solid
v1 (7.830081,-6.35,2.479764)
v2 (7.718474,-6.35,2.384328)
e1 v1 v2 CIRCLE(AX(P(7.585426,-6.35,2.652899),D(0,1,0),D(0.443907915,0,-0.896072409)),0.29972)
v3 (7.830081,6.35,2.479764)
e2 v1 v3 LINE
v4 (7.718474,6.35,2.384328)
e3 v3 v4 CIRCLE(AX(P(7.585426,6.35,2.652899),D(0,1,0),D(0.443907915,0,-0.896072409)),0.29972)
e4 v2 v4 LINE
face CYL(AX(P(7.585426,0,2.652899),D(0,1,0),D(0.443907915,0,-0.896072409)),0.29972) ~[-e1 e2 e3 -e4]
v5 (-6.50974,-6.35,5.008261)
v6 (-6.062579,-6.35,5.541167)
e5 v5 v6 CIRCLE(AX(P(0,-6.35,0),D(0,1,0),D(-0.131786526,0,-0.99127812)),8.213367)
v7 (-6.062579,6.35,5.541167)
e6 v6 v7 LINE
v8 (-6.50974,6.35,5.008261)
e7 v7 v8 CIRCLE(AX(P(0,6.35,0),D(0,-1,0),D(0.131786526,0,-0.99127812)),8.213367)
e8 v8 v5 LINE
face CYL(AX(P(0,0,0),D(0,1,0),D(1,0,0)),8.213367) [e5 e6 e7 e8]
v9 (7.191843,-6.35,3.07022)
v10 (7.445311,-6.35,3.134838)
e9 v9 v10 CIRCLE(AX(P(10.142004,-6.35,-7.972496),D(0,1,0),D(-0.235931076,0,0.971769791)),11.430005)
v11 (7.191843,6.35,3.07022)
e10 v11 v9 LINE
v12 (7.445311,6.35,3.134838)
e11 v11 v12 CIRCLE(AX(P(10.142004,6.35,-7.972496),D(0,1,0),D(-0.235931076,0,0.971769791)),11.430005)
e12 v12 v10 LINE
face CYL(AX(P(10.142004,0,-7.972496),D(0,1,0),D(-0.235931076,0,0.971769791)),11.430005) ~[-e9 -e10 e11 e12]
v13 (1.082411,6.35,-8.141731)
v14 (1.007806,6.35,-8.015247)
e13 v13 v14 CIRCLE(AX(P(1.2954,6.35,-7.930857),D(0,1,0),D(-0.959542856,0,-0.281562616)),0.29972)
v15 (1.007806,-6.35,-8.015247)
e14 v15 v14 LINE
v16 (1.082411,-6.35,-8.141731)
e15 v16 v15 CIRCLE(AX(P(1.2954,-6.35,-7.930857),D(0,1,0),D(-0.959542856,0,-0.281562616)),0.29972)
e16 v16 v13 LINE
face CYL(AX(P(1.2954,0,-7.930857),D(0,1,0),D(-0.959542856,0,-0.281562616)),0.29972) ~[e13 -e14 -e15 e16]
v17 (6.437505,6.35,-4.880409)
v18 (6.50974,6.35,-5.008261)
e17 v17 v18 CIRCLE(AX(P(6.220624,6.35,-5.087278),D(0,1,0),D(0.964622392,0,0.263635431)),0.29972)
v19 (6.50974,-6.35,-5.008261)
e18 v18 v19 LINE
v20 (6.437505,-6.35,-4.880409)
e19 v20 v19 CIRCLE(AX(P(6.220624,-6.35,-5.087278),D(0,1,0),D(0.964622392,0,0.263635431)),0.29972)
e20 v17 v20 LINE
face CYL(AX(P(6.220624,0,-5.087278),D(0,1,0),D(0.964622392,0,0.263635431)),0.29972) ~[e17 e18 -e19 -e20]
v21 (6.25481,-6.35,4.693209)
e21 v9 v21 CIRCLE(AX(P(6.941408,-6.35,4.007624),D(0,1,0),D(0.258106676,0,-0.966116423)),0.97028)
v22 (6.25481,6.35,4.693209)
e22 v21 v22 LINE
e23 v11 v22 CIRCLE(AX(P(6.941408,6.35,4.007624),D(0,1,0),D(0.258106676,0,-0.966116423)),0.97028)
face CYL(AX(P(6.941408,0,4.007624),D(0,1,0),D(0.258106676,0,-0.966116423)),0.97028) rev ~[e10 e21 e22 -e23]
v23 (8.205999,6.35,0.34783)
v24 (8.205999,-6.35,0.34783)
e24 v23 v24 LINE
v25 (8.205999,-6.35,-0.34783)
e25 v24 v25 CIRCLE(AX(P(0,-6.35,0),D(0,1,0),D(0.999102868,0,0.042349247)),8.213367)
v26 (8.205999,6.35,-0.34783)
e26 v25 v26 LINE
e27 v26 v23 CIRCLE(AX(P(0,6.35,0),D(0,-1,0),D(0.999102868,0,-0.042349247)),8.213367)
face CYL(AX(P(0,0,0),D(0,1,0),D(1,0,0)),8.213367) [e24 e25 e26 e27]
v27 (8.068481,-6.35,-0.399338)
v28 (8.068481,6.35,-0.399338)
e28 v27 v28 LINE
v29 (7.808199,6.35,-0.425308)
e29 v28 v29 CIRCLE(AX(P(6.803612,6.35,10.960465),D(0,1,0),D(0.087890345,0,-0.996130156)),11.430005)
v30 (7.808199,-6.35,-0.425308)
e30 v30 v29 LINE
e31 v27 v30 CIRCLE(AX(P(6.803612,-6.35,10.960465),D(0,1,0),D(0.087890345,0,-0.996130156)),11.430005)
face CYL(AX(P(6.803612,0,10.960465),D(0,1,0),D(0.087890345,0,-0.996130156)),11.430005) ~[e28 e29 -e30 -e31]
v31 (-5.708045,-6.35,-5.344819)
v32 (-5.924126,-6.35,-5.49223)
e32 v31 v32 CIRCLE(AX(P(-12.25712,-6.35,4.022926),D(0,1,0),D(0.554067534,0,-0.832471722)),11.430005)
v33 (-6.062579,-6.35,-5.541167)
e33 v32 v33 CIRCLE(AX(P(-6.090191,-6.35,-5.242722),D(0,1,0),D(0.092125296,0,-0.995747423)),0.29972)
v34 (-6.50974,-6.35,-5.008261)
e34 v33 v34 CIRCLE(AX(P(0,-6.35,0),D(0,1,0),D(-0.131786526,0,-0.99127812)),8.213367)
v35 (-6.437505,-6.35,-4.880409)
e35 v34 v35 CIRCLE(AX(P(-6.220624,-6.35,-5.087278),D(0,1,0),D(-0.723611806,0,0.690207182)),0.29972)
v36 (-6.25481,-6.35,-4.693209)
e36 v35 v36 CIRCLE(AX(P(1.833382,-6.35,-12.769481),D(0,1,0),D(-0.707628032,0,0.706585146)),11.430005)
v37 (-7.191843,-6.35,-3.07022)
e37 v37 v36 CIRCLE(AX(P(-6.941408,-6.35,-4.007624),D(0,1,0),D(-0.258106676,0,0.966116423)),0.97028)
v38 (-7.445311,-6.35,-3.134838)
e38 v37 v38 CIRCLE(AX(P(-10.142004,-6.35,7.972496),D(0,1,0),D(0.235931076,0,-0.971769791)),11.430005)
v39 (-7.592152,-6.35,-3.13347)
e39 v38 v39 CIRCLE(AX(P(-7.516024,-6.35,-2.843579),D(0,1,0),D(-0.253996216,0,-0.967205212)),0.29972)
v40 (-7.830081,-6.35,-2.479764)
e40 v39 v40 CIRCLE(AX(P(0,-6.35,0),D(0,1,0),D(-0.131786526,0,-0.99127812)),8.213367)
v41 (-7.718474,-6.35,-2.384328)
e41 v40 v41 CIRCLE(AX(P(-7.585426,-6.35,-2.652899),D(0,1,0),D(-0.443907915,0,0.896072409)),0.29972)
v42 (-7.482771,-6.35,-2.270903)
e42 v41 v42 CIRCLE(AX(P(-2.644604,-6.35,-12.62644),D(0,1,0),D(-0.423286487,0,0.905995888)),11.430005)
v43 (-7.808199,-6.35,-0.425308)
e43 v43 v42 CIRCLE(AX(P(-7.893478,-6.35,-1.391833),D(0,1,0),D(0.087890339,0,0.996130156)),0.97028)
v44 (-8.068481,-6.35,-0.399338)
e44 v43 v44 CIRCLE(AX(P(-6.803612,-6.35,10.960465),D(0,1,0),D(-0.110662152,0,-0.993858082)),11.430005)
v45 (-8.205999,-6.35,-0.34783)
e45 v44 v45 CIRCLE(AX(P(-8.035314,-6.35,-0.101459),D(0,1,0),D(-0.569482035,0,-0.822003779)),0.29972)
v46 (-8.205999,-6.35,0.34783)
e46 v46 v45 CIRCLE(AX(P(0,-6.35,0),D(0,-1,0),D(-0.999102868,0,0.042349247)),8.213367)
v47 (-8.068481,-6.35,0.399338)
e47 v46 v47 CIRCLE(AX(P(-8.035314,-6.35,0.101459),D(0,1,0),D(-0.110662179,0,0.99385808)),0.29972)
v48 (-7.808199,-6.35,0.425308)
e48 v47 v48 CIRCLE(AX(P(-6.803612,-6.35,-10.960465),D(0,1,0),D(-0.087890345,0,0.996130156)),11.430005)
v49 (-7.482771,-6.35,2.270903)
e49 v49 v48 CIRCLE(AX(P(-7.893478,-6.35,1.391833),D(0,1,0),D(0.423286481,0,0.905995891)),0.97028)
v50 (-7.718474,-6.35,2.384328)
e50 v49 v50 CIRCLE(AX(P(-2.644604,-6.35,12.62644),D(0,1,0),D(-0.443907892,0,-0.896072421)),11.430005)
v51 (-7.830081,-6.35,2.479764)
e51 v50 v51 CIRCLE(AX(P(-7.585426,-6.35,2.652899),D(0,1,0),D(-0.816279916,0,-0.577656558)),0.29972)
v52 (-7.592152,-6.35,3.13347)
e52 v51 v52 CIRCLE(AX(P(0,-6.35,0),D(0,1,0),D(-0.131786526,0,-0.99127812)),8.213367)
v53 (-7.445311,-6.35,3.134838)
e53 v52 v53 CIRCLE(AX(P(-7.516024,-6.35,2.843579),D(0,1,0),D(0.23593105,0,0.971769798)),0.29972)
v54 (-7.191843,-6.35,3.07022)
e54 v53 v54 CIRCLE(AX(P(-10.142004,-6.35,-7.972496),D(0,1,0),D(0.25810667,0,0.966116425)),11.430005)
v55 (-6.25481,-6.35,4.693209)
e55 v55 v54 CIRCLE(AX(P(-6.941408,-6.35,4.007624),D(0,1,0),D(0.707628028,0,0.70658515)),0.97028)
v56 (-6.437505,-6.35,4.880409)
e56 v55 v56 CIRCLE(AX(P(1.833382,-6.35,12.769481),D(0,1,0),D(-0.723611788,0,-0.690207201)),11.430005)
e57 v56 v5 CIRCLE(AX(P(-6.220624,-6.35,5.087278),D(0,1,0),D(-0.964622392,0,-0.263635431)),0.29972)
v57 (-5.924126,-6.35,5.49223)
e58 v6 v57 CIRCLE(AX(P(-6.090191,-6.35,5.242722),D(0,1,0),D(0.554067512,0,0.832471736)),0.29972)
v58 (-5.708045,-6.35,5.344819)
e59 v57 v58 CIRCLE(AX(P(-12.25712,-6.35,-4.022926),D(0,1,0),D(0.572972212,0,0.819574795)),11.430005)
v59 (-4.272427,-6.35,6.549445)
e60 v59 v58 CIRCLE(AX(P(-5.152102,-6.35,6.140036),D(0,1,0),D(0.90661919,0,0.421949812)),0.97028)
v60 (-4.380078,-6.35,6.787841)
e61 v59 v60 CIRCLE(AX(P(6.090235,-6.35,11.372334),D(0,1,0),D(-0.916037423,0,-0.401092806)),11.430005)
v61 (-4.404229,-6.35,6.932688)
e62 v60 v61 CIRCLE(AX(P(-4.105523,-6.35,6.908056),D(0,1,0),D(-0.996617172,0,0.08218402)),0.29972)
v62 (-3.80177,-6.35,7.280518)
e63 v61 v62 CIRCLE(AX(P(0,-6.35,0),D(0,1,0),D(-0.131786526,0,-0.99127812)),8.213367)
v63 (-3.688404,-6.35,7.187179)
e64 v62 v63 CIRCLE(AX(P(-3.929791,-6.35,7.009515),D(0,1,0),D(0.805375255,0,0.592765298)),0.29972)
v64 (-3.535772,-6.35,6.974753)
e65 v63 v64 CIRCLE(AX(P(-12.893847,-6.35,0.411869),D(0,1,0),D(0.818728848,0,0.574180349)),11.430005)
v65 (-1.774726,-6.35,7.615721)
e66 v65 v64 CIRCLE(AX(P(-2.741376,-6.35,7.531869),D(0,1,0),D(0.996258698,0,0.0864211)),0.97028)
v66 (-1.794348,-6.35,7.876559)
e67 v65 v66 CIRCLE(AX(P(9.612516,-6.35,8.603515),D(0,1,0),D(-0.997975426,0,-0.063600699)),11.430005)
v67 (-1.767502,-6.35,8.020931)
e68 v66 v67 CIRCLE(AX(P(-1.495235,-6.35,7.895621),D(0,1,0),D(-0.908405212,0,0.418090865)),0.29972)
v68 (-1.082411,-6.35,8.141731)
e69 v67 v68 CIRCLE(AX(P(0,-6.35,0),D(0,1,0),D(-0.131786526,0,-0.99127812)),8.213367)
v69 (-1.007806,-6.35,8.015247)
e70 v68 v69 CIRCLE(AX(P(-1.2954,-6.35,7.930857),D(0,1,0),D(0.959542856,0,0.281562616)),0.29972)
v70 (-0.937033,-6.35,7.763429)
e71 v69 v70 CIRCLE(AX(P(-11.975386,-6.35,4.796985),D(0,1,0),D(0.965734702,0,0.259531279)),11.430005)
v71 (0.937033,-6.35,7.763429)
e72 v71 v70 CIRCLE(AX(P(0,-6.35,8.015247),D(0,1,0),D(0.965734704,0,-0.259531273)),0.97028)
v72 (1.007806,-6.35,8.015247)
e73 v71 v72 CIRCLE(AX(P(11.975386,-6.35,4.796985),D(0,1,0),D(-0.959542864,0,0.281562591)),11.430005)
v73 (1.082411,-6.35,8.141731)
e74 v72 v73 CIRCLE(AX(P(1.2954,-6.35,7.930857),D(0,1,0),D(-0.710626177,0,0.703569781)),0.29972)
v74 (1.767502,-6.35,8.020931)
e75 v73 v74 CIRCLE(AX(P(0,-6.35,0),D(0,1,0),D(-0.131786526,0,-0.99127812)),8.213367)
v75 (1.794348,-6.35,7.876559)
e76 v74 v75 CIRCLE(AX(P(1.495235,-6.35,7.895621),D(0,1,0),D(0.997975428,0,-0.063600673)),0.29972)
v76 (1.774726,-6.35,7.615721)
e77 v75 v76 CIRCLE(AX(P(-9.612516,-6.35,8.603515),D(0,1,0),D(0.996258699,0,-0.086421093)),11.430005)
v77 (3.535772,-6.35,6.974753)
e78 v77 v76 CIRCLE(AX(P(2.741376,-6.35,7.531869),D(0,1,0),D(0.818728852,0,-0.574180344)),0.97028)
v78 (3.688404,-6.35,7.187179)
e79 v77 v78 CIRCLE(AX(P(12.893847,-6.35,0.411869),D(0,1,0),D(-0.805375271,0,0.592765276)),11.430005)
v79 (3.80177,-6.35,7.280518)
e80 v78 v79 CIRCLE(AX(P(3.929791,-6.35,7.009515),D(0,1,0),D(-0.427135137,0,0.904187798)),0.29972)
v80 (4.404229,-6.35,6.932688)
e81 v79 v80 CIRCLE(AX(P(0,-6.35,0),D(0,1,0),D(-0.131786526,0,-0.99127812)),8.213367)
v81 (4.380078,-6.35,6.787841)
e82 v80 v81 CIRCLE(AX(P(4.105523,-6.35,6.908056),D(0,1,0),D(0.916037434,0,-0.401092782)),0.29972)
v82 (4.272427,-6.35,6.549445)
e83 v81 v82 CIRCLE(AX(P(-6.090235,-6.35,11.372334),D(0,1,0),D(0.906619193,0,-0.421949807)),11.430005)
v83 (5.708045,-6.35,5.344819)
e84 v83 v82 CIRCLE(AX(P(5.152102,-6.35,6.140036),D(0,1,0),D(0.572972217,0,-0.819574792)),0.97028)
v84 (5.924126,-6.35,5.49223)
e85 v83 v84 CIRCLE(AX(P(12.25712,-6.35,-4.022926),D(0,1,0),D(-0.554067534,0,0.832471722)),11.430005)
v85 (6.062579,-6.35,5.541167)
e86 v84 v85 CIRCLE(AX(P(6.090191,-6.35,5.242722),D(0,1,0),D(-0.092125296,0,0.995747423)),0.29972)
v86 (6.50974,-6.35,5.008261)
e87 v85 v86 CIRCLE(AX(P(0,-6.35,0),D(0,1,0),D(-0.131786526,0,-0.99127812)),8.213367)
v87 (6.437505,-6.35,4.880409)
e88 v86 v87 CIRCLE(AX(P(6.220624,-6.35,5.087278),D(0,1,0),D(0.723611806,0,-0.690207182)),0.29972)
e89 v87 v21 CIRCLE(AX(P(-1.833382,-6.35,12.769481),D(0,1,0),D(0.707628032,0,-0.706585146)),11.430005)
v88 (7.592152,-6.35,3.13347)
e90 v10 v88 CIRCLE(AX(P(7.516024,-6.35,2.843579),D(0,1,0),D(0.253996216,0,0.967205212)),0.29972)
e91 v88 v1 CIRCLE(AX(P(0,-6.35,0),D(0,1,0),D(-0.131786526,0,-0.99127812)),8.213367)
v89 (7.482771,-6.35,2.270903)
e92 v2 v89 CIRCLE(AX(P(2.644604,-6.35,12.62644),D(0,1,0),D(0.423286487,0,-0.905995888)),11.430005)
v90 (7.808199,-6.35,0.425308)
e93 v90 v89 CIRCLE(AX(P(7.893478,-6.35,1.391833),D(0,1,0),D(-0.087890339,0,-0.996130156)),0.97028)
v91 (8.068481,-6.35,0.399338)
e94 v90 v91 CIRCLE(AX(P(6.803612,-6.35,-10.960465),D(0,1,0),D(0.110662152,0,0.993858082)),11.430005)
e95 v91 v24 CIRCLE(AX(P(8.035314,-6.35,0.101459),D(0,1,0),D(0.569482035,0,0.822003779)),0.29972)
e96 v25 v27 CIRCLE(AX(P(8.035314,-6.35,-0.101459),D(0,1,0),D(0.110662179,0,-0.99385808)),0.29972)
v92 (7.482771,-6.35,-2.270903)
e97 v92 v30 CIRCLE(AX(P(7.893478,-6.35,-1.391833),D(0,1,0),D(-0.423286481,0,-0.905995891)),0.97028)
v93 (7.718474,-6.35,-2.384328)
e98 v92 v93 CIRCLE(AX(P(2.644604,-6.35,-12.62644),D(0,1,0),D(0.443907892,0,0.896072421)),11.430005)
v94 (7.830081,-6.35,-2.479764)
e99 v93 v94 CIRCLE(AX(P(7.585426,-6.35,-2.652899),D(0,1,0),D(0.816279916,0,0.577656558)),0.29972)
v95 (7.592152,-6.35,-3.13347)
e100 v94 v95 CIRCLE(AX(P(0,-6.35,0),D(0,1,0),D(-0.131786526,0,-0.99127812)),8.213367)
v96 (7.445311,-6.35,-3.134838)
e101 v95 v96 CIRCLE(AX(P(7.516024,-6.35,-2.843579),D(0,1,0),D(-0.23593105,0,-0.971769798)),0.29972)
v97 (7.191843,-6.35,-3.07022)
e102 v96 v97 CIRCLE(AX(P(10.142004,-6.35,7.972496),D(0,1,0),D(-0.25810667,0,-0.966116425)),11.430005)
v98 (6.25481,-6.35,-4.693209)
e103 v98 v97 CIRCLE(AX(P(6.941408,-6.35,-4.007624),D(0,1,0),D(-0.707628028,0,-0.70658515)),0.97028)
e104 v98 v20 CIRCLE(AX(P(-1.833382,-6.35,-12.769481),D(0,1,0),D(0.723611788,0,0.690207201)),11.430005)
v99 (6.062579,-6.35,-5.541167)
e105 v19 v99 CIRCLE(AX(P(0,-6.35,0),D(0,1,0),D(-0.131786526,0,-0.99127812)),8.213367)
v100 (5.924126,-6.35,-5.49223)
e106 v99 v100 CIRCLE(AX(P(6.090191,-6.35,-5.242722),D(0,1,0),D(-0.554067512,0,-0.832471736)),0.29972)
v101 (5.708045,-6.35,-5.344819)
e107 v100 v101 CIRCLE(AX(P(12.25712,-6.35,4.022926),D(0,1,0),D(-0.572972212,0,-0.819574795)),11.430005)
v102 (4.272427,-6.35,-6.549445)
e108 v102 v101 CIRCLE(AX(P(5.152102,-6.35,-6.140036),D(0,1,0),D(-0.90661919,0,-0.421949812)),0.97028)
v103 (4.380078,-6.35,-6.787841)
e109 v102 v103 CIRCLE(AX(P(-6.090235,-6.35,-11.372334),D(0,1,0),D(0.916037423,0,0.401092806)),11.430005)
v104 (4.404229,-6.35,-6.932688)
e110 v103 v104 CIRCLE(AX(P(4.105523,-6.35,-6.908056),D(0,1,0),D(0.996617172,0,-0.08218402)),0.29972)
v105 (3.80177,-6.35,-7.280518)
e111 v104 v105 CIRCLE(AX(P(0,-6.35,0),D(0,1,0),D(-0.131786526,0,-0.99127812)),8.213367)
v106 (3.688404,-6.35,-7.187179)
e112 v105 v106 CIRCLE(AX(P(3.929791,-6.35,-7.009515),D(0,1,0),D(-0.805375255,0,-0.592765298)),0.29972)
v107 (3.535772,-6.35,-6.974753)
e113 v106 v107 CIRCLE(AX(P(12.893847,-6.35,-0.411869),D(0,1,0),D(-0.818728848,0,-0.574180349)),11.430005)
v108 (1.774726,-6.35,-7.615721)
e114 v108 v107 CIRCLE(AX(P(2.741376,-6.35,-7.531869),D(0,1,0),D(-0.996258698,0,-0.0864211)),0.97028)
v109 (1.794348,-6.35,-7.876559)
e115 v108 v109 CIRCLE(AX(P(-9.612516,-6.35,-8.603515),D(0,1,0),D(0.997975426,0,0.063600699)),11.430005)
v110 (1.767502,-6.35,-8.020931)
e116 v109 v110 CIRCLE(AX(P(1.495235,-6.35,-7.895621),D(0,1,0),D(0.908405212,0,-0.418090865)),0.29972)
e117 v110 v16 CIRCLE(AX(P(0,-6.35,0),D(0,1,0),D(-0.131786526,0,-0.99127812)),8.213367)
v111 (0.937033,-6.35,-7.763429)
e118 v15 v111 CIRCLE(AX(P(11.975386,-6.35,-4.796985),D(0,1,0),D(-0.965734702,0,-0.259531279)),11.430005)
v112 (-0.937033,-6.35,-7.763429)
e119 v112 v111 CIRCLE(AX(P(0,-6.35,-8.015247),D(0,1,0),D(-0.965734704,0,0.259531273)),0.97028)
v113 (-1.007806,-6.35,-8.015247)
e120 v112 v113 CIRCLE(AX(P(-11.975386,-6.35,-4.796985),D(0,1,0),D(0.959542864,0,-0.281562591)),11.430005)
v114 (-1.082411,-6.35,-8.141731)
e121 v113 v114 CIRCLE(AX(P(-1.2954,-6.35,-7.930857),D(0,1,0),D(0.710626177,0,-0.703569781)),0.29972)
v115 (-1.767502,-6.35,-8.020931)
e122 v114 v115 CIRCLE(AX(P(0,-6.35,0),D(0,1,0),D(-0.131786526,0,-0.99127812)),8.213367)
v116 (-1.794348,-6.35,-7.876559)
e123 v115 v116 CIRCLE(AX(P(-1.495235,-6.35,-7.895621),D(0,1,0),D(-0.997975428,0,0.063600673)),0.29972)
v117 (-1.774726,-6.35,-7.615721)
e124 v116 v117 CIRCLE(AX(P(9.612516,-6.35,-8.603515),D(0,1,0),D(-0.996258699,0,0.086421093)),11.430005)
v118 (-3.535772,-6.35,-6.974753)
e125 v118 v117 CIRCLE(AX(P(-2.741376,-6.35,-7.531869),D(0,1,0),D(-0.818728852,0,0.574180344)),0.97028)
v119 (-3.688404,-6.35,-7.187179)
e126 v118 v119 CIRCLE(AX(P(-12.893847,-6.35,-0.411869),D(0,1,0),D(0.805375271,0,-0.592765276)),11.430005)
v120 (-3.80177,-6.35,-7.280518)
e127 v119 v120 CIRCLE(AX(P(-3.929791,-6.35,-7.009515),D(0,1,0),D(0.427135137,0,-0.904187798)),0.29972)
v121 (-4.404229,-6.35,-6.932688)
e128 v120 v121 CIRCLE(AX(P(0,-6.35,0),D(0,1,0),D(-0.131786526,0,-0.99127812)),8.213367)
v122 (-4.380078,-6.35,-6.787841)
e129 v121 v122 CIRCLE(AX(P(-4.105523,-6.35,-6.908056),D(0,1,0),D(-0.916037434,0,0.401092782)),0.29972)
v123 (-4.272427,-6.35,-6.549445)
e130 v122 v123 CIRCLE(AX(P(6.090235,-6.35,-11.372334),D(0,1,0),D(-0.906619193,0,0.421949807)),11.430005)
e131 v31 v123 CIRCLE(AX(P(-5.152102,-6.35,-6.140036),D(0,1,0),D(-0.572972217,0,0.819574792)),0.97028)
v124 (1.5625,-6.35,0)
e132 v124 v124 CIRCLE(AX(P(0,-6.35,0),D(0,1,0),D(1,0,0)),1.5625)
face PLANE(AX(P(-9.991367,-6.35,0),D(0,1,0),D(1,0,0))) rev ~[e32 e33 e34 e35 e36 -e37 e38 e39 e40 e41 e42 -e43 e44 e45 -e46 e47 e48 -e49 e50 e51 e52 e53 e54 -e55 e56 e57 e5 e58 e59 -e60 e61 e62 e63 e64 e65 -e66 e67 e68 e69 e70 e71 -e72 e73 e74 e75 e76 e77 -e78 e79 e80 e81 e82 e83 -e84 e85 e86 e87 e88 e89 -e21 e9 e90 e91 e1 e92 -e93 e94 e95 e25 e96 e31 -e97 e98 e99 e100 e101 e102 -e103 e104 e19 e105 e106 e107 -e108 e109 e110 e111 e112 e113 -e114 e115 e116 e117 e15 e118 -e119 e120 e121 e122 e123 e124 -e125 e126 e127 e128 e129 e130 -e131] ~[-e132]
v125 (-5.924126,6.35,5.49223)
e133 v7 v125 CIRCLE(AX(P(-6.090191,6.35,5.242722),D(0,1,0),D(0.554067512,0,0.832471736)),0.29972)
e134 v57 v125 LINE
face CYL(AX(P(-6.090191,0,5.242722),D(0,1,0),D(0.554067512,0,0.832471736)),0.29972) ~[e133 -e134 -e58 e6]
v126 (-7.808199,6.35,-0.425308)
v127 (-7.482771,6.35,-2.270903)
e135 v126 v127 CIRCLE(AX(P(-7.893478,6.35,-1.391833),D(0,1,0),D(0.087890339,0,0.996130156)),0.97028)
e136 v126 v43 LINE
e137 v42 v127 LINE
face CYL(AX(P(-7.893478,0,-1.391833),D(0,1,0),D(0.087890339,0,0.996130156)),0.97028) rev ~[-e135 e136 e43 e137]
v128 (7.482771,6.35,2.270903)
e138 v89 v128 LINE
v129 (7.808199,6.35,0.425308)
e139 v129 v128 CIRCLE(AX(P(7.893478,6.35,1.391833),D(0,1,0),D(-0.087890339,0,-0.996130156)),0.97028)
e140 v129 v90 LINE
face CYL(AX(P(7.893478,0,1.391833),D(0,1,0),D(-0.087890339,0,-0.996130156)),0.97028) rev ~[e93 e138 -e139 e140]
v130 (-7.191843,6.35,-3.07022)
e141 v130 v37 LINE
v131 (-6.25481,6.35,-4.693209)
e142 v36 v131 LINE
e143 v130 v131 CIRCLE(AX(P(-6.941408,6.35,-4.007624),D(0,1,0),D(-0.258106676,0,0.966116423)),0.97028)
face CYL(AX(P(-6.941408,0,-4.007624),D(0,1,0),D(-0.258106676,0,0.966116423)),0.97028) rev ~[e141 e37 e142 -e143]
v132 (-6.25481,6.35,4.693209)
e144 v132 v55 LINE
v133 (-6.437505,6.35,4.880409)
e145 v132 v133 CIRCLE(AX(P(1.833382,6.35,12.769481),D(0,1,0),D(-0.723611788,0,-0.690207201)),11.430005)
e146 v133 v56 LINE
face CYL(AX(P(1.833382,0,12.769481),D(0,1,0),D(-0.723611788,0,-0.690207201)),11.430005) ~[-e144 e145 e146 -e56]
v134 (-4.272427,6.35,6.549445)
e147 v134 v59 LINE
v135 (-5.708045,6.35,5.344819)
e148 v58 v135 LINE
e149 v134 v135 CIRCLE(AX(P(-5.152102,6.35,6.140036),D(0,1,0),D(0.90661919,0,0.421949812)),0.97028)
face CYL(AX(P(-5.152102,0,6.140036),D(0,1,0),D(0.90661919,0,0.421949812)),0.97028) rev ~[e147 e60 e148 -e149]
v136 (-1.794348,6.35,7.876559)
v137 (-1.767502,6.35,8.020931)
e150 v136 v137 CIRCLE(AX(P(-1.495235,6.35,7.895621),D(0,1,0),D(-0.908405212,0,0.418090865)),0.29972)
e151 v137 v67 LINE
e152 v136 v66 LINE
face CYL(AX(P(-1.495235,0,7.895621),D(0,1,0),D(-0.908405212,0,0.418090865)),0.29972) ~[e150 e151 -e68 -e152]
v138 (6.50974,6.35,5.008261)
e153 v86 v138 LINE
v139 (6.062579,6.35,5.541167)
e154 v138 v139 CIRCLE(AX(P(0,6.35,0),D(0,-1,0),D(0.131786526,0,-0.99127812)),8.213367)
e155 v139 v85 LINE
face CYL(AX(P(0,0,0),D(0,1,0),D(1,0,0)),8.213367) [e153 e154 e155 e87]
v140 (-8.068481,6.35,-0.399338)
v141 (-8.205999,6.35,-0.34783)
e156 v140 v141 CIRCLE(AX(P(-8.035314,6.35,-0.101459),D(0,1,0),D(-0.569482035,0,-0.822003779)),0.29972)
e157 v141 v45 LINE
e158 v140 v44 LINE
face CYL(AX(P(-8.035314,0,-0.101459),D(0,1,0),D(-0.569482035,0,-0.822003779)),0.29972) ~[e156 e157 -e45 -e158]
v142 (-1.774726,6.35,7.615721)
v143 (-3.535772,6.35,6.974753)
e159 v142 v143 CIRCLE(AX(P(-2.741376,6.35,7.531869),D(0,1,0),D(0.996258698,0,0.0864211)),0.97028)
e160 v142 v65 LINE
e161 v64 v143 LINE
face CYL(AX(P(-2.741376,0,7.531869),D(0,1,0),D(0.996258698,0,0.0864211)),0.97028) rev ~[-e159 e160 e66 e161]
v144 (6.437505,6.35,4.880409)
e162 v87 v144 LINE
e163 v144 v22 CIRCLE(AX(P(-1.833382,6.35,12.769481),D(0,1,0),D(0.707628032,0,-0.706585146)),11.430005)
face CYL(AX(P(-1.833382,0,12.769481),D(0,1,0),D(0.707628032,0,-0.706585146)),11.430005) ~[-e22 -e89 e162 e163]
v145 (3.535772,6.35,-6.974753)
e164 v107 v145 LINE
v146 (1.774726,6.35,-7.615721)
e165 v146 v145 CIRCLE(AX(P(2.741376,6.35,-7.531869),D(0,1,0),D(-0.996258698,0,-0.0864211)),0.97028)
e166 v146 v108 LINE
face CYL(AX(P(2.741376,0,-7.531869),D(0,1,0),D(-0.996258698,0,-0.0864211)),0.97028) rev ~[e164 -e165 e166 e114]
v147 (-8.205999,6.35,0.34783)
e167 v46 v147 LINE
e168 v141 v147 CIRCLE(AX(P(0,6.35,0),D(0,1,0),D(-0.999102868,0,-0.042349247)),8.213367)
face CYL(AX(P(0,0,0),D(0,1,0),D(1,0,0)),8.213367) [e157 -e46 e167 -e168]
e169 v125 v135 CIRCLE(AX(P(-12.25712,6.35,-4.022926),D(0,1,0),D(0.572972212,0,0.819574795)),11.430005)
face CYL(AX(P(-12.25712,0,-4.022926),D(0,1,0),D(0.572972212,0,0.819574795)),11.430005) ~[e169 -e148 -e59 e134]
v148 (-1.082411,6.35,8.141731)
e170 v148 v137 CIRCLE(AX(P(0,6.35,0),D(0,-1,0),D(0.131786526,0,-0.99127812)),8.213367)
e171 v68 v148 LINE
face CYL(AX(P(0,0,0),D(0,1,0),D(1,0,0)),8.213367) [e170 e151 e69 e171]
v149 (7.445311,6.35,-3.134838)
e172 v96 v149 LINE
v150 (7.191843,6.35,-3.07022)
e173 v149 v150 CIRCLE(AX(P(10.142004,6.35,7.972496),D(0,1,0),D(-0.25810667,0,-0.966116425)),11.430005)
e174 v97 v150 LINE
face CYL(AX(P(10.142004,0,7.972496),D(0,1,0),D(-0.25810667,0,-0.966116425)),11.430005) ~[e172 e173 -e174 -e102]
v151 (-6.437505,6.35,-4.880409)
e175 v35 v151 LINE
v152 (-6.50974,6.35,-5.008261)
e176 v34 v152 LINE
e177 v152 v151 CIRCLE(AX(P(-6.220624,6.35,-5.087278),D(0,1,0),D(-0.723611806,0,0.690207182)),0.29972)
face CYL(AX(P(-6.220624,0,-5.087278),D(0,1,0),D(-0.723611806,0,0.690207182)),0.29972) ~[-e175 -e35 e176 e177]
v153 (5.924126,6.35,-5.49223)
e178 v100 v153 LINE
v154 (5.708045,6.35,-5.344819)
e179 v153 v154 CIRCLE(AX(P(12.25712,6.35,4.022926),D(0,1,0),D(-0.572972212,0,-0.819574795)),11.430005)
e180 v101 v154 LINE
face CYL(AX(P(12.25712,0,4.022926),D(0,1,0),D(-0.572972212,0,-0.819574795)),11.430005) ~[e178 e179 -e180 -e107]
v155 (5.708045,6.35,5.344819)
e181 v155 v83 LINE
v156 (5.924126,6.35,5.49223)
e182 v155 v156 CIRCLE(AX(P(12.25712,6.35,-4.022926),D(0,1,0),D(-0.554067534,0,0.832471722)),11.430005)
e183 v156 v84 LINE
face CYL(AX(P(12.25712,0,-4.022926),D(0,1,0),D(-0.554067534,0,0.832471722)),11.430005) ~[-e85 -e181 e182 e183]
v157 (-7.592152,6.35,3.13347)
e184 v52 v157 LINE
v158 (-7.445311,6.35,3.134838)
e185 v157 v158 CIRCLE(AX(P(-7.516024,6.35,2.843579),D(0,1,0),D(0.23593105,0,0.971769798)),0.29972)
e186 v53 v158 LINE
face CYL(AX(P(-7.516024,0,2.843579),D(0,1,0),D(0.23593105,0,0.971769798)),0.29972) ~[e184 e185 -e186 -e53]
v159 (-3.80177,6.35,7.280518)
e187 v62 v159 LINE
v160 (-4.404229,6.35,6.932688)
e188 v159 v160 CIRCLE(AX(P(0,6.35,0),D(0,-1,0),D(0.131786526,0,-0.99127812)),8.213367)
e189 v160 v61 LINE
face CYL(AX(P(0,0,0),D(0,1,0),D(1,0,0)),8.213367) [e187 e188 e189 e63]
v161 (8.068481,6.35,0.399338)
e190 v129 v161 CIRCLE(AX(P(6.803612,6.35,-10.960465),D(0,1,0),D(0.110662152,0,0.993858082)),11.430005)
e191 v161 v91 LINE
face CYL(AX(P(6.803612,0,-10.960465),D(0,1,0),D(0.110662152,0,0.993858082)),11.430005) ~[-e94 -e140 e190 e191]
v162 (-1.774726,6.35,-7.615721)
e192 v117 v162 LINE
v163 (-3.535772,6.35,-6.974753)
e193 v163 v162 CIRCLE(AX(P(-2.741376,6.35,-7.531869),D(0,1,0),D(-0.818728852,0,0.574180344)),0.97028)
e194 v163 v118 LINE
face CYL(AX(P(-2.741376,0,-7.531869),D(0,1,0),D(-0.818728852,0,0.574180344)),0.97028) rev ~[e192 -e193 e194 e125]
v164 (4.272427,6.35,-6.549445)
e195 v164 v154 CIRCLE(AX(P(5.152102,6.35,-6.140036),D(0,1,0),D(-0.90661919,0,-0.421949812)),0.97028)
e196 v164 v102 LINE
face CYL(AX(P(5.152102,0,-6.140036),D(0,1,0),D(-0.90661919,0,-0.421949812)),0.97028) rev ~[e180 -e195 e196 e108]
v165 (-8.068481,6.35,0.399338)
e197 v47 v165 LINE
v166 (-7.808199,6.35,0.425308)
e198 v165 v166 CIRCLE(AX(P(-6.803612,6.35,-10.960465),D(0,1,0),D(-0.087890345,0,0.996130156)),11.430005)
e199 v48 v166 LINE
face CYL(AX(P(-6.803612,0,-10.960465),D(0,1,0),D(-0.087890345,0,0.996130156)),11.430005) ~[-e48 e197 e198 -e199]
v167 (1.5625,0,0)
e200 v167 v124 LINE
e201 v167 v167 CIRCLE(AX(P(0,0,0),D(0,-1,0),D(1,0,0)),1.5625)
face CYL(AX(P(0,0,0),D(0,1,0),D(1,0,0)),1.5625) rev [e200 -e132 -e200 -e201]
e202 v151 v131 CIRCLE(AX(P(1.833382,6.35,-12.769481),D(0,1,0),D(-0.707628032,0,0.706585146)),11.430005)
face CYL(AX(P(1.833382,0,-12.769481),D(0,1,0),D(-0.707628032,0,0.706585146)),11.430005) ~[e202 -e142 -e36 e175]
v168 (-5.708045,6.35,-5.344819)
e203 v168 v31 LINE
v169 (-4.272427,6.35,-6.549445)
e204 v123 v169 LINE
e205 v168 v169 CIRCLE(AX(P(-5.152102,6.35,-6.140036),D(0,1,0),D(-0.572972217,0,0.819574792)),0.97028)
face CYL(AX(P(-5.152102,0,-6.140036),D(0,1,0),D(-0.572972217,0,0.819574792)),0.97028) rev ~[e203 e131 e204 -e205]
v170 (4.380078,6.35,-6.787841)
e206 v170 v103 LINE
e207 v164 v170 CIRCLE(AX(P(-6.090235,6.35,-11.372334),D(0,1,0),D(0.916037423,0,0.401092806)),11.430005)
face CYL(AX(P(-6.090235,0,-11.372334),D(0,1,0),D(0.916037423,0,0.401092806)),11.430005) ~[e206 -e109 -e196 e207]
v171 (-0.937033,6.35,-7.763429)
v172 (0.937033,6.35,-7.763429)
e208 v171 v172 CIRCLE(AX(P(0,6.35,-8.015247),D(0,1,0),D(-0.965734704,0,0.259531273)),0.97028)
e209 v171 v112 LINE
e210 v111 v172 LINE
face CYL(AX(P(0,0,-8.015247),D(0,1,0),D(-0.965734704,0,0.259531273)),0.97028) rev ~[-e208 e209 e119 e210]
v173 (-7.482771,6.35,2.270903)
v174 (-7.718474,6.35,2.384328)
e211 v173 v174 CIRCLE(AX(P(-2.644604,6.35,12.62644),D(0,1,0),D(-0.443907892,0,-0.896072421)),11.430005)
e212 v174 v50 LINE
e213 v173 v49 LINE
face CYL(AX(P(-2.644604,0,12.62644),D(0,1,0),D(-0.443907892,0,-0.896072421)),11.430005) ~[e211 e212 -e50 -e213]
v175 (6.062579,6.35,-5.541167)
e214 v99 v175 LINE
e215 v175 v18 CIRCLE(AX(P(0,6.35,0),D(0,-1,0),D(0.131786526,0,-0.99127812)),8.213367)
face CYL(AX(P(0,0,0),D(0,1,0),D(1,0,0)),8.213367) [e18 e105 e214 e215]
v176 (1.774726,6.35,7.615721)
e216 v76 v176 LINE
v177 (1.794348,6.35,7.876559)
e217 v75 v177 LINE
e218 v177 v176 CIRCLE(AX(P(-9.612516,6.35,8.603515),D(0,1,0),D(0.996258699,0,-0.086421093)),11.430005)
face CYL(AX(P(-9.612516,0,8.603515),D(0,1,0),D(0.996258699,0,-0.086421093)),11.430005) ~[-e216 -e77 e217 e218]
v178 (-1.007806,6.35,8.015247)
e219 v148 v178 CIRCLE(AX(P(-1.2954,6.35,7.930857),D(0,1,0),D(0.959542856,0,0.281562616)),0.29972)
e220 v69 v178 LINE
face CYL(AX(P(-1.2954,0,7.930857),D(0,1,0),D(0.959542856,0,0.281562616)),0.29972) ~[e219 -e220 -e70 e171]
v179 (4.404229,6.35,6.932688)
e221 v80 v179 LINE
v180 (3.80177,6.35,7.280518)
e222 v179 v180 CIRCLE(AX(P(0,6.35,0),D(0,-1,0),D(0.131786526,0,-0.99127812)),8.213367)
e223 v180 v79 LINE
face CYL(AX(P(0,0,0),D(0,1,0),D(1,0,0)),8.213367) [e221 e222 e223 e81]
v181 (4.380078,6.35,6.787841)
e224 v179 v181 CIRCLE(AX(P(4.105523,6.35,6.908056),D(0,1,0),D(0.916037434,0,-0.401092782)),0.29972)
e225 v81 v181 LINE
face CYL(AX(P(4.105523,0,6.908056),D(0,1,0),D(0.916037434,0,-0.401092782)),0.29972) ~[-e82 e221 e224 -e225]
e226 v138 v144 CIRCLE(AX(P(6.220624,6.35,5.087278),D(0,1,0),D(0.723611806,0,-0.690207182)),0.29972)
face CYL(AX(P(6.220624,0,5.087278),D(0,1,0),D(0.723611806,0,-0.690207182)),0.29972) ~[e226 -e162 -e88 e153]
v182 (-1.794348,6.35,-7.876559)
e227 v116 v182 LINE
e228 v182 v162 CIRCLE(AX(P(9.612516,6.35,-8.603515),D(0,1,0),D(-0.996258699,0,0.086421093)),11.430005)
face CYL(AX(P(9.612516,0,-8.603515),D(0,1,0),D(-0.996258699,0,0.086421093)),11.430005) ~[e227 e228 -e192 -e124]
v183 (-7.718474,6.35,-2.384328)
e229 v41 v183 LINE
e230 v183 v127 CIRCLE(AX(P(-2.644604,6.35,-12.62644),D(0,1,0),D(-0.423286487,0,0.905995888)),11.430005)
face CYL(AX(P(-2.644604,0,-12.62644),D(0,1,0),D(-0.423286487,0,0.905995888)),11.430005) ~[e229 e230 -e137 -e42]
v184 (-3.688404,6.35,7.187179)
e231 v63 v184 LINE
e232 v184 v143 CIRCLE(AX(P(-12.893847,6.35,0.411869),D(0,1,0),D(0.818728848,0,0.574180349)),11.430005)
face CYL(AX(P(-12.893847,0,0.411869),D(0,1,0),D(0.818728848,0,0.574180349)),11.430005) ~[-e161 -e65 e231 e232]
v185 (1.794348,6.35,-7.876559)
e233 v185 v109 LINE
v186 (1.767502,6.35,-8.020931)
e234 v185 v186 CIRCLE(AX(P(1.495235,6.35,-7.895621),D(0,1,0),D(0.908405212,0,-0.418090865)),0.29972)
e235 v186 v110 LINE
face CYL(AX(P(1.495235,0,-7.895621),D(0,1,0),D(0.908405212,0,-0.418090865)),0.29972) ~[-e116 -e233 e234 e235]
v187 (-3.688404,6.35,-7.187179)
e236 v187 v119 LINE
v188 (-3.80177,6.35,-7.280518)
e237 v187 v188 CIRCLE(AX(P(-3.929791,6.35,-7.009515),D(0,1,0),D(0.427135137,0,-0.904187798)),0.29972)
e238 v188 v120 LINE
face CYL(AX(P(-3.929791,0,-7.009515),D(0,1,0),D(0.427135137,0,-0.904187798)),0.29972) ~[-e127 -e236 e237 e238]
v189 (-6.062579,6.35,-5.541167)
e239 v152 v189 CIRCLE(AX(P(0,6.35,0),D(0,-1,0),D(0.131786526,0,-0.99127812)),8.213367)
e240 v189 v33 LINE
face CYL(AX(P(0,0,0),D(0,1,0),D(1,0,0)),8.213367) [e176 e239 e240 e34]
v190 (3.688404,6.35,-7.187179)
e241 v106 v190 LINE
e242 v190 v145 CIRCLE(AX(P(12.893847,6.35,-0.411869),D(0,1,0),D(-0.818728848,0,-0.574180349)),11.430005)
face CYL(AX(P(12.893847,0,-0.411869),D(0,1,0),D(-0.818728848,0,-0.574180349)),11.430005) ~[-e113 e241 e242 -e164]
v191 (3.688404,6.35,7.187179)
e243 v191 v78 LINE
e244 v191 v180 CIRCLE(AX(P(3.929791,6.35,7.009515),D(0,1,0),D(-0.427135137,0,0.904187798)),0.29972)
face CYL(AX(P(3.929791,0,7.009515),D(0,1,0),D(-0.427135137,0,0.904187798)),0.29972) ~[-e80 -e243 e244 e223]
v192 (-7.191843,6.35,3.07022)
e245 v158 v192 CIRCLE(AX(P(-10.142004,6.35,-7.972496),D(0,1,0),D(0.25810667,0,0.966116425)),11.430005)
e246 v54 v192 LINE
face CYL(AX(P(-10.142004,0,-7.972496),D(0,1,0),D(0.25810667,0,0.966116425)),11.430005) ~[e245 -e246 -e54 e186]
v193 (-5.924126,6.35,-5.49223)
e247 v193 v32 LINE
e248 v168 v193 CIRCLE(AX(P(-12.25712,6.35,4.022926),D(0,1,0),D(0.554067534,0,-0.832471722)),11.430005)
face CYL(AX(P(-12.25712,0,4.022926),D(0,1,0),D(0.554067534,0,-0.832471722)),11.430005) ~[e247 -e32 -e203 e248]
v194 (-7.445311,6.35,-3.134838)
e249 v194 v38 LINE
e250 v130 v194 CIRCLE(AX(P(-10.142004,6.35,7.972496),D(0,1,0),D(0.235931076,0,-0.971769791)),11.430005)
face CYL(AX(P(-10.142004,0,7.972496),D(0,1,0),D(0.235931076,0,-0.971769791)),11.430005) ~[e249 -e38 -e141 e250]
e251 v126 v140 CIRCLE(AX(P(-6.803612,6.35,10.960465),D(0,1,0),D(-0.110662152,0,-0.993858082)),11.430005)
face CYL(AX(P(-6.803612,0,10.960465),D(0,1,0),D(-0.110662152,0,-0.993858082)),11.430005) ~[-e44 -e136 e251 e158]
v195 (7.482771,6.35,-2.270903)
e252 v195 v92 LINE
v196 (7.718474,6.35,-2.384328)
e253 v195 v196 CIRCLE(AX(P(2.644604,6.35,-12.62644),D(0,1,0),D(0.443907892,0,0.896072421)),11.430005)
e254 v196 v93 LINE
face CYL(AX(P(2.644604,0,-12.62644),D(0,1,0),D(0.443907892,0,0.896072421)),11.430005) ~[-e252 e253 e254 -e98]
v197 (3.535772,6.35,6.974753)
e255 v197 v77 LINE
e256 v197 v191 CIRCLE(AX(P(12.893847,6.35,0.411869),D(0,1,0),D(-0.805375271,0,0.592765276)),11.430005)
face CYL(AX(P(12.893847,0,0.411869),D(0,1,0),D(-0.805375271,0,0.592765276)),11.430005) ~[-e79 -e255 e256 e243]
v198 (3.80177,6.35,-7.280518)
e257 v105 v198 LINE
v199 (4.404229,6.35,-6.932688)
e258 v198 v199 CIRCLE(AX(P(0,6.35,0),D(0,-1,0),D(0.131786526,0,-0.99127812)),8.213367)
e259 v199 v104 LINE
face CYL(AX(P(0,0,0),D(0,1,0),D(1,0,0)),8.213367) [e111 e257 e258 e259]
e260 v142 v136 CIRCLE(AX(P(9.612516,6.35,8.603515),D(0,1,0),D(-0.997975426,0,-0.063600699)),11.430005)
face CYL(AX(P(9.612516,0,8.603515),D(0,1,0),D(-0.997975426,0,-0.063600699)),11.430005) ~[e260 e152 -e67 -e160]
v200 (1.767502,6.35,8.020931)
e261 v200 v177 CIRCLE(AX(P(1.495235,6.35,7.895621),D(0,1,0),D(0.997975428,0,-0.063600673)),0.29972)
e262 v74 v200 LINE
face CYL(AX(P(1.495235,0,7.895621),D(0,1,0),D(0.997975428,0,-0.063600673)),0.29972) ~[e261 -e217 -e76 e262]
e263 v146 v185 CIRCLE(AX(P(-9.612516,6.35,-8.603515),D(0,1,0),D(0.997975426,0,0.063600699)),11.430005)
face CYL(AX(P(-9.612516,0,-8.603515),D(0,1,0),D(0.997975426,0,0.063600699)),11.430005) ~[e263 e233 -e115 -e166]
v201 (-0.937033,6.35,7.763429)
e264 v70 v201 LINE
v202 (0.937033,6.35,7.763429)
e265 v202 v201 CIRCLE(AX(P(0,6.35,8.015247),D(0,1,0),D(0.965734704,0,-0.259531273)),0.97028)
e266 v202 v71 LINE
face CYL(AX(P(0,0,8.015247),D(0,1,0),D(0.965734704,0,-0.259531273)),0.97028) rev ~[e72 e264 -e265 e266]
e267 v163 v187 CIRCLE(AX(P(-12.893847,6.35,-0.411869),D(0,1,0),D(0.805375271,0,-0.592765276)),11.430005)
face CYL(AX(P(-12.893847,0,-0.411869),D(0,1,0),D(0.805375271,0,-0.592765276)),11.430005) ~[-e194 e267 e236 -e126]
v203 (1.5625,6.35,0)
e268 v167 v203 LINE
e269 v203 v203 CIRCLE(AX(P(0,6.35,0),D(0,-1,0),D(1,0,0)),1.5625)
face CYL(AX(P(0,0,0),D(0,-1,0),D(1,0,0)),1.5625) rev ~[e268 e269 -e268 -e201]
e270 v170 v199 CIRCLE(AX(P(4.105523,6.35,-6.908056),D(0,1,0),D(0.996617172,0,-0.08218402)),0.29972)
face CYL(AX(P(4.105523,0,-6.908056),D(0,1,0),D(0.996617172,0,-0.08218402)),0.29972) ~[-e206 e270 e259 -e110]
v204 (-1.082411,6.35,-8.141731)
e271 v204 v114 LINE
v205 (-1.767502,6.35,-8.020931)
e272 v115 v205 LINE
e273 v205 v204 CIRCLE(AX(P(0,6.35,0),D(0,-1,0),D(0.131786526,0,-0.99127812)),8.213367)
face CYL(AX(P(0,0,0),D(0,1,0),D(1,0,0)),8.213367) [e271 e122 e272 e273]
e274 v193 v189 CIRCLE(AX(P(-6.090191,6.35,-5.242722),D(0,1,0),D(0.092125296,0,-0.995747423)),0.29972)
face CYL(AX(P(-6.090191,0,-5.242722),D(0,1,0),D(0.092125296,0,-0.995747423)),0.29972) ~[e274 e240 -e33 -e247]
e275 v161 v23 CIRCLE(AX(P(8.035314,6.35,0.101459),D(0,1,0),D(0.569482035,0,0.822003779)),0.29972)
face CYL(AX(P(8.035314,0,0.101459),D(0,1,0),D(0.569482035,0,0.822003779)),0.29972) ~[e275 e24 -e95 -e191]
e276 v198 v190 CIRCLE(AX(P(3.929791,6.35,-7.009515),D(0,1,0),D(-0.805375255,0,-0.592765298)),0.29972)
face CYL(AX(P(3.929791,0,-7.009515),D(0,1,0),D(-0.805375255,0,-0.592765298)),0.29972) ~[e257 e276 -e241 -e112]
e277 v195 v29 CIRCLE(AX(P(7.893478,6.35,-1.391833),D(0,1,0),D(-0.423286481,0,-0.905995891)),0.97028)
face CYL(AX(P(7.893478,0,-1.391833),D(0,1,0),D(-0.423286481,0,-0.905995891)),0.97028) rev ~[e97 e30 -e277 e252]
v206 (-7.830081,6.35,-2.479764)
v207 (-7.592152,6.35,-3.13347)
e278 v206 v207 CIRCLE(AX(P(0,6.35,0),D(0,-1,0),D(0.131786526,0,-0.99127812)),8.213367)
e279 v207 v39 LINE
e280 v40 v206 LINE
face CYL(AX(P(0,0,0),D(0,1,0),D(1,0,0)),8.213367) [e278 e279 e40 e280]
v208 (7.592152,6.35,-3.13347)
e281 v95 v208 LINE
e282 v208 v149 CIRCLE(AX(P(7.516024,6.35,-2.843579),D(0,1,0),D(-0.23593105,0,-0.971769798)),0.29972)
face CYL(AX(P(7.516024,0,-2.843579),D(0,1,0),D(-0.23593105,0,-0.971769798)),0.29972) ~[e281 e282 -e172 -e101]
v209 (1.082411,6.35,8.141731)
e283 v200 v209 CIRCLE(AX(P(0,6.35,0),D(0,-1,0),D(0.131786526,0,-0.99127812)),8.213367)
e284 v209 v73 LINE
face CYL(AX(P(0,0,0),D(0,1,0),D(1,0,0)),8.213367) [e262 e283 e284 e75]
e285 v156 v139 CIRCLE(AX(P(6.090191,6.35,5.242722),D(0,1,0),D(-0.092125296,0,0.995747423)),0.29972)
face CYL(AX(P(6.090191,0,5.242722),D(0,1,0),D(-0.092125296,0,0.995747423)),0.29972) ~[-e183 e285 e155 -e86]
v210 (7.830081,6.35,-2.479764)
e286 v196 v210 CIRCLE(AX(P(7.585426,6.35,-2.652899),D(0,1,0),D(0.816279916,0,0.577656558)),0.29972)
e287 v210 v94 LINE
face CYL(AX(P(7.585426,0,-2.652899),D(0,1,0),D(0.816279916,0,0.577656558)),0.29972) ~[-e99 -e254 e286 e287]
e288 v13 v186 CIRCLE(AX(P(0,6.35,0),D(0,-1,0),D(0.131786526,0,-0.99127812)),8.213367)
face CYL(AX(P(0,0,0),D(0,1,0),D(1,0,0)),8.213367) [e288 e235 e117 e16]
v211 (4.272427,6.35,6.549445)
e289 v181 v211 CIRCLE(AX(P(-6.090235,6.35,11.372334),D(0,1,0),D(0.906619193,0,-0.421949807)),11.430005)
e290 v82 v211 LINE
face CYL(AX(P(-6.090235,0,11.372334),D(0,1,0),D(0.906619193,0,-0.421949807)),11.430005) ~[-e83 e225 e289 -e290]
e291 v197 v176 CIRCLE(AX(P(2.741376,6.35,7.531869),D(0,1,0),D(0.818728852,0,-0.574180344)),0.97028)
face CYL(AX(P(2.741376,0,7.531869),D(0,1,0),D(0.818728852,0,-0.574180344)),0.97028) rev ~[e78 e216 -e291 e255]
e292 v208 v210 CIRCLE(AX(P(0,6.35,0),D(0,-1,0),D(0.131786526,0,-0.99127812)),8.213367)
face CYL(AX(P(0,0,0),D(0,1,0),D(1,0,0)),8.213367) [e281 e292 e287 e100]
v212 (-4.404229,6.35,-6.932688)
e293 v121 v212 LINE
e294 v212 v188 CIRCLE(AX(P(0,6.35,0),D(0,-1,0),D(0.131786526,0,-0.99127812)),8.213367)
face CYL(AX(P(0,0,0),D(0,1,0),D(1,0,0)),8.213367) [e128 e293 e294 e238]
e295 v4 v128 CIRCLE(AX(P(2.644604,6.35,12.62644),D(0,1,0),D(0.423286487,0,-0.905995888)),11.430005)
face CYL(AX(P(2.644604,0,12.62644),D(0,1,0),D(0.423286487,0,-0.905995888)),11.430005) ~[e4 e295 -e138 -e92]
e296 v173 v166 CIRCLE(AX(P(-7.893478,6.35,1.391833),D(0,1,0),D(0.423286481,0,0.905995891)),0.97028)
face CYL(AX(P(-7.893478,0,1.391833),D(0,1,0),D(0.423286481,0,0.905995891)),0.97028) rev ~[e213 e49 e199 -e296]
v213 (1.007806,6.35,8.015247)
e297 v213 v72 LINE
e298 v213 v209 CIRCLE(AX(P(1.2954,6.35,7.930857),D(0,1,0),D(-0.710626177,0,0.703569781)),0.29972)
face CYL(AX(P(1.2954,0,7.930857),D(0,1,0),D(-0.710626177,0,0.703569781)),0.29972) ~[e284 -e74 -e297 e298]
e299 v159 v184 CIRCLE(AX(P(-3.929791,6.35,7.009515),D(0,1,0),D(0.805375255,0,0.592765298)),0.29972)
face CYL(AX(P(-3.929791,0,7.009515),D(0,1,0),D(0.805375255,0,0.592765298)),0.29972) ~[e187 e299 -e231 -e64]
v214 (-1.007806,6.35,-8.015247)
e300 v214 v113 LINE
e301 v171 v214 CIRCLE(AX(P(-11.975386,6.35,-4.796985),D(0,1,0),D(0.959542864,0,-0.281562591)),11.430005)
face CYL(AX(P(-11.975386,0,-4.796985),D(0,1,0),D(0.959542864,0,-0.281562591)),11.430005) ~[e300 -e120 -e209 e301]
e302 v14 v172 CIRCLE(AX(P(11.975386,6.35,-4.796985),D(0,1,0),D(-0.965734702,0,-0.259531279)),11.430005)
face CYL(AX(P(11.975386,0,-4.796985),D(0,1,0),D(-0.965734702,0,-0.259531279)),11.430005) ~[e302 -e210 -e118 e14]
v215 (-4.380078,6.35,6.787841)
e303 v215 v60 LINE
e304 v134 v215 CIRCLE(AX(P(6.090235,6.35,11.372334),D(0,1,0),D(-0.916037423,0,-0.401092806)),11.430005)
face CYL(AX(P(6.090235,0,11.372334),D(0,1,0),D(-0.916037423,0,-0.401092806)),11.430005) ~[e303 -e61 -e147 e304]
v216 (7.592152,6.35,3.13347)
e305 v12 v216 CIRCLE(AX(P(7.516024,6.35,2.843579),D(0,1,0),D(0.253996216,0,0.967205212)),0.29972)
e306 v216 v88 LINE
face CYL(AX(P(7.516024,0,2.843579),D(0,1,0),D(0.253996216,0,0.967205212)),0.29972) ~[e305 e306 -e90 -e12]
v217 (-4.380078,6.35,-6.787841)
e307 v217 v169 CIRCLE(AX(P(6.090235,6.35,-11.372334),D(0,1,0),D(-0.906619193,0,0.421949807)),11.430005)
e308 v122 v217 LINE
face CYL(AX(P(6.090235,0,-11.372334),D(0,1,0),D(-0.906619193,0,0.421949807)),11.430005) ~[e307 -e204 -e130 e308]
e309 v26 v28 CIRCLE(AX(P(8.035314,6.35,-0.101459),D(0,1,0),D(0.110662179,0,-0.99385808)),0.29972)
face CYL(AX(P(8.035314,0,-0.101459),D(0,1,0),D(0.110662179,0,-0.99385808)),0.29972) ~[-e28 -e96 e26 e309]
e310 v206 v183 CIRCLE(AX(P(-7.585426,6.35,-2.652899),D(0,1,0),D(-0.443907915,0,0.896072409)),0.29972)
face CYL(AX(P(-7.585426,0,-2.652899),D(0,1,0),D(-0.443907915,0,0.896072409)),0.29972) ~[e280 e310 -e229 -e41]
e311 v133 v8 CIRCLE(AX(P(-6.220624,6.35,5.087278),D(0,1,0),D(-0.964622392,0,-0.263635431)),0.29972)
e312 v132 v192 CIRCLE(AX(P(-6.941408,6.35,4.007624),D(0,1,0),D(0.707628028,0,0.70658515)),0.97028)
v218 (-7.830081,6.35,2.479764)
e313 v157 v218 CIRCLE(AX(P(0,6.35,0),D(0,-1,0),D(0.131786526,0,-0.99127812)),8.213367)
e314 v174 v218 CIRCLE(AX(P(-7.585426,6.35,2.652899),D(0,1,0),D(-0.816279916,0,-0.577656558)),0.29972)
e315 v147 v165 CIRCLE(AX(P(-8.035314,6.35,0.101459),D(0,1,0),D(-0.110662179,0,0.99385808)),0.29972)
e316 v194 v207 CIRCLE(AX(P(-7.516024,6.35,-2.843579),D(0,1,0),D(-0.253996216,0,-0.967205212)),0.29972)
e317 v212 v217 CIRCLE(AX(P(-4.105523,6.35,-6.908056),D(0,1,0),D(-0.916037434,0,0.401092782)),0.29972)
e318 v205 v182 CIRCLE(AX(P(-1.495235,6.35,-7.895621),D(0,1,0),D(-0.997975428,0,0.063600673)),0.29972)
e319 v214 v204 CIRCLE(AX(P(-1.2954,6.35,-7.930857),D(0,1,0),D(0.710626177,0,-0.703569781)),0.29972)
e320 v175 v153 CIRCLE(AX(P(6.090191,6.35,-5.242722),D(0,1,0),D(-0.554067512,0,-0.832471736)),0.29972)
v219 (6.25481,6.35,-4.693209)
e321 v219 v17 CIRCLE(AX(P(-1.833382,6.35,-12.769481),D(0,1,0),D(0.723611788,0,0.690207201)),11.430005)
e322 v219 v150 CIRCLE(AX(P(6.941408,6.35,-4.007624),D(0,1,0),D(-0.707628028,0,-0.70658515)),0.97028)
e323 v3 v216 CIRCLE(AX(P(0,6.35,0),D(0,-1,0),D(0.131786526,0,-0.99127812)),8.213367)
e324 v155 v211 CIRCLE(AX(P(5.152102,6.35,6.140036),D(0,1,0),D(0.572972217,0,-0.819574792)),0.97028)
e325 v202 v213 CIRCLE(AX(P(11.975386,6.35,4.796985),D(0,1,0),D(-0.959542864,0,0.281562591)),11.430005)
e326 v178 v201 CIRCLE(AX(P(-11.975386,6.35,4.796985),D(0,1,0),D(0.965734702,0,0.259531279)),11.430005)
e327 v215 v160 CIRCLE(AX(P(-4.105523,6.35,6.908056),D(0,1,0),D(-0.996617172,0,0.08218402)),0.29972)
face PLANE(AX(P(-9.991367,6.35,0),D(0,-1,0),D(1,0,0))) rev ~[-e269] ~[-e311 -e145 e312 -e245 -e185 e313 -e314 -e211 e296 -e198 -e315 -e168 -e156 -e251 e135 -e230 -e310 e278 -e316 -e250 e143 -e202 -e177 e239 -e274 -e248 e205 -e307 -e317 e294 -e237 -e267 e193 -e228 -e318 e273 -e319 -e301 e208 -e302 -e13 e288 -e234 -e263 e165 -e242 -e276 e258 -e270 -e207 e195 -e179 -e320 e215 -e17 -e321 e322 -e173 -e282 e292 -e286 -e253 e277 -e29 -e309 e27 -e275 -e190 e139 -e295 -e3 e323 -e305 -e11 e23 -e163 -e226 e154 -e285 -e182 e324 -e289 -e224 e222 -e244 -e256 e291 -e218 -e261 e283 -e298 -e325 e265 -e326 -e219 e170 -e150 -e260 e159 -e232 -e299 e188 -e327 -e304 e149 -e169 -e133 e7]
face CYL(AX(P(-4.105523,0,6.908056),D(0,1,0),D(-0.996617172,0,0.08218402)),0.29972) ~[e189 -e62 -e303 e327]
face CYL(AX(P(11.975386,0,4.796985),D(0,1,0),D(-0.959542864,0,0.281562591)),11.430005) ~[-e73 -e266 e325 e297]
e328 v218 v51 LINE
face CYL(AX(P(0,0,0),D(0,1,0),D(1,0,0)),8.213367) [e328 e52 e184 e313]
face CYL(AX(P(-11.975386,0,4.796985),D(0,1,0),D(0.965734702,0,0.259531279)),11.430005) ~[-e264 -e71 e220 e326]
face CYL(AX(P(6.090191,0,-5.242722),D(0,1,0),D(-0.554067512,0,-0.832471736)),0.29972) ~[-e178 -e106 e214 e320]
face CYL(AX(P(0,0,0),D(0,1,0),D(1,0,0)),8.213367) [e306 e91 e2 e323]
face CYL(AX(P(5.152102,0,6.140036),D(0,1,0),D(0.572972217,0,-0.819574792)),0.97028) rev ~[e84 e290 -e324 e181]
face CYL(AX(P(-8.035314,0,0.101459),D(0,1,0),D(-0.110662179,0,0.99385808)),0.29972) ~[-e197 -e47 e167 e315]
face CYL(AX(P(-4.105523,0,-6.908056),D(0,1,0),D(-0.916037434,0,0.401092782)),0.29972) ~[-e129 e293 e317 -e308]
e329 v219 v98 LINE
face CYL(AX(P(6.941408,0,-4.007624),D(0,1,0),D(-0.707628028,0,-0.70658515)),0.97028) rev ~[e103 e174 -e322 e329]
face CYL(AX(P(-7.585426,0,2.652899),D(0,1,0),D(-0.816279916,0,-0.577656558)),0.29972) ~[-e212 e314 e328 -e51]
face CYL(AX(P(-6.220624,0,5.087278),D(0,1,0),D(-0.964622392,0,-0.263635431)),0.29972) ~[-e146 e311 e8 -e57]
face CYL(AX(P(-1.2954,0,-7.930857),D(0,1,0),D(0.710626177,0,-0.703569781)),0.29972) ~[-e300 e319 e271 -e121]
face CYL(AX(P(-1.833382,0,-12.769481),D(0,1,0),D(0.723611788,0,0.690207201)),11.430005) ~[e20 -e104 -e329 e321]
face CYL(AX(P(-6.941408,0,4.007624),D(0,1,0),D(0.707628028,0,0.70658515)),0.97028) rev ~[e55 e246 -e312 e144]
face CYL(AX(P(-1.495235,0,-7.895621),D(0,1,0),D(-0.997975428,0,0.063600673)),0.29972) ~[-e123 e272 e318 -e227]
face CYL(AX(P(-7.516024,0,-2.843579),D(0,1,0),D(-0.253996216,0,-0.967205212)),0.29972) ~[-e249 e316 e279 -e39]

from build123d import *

# Parameters (mm, degrees)
SKETCH1_R               = 8.213367202
TOOTHOD_DEPTH           = 6.35
TOOTHPROFILE_DEPTH      = 7.35
TOOTHPATTERN_COUNT      = 18
SKETCH7_R               = 1.5625
BORE_DEPTH              = 8.62
BORE_DEPTH_BACK         = 8.62
SKETCH11_W              = 19.982734404
SKETCH11_H              = 1.27
CUT_EXTRUDE2_DEPTH      = 10.991367202
CUT_EXTRUDE2_DEPTH_BACK = 10.991367202


with BuildPart() as part:
    # Sketch1 → ToothOD (new body, symmetric)
    with BuildSketch(Plane(origin=(0, 0, 0), x_dir=(1, 0, 0), z_dir=(0, 1, 0))):
        Circle(SKETCH1_R)
    extrude(amount=TOOTHOD_DEPTH, both=True)

    # Sketch2 → ToothProfile (cut, symmetric)
    with BuildSketch(Plane(origin=(0, 0, 0), x_dir=(1, 0, 0), z_dir=(0, 1, 0))):
        with BuildLine():
            ThreePointArc((-0.937033068, 7.763429198), (-0.590385173, 7.245254588), (0, 7.044967202))
            ThreePointArc((0, 7.044967202), (0.590385173, 7.245254588), (0.937033068, 7.763429198))
            ThreePointArc((0.937033068, 7.763429198), (0.971699064, 7.88954066), (1.007805813, 8.015247202))
            ThreePointArc((1.007805813, 8.015247202), (1.037242296, 8.083128985), (1.082411127, 8.141731201))
            ThreePointArc((1.082411127, 8.141731201), (0, 8.213367202), (-1.082411127, 8.141731201))
            ThreePointArc((-1.082411127, 8.141731201), (-1.037242296, 8.083128985), (-1.007805813, 8.015247202))
            ThreePointArc((-1.007805813, 8.015247202), (-0.971699064, 7.88954066), (-0.937033068, 7.763429198))
        make_face()
    toothprofile = extrude(amount=TOOTHPROFILE_DEPTH, both=True, mode=Mode.SUBTRACT)

    # ToothPattern: ToothProfile ×18 about axis
    toothpattern_axis = Axis((0, 0, 0), (0, 1, 0))
    for i in range(1, TOOTHPATTERN_COUNT):
        add(toothprofile.rotate(toothpattern_axis, i * 360 / TOOTHPATTERN_COUNT), mode=Mode.SUBTRACT)

    # Sketch4 → Flange (revolve)
    with BuildSketch(Plane.XY):
        with BuildLine():
            Line((0, -6.35), (8.467367202, -6.35))
            ThreePointArc((8.467367202, -6.35), (8.697013823, -6.385951298), (8.92243953, -6.442637424))
            ThreePointArc((8.92243953, -6.442637424), (9.490168107, -6.724197125), (9.991367202, -7.112))
            Line((9.991367202, -7.112), (9.991367202, -7.62))
            Line((9.991367202, -7.62), (0, -7.62))
            Line((0, -7.62), (0, -6.35))
        make_face()
        with BuildLine():
            Line((9.991367202, 7.62), (9.991367202, 7.112))
            ThreePointArc((9.991367202, 7.112), (9.490168107, 6.724197125), (8.92243953, 6.442637424))
            ThreePointArc((8.92243953, 6.442637424), (8.697013823, 6.385951298), (8.467367202, 6.35))
            Line((8.467367202, 6.35), (0, 6.35))
            Line((0, 6.35), (0, 7.62))
            Line((0, 7.62), (9.991367202, 7.62))
        make_face()
    revolve(axis=Axis((0, 8.73125, 0), (0, -1, 0)))

    # Sketch7 → Bore (cut, two sides)
    with BuildSketch(Plane.XZ) as bore_sk:
        Circle(SKETCH7_R)
    extrude(amount=BORE_DEPTH, mode=Mode.SUBTRACT)
    extrude(bore_sk.sketch, amount=-BORE_DEPTH_BACK, mode=Mode.SUBTRACT)

    # Sketch11 → Cut-Extrude2 (cut, two sides)
    with BuildSketch(Plane.XY) as cut_extrude2_sk:
        with Locations((0, 6.985)):
            Rectangle(SKETCH11_W, SKETCH11_H)
        with Locations((0, -6.985)):
            Rectangle(SKETCH11_W, SKETCH11_H)
    extrude(amount=CUT_EXTRUDE2_DEPTH, mode=Mode.SUBTRACT)
    extrude(cut_extrude2_sk.sketch, amount=-CUT_EXTRUDE2_DEPTH_BACK, mode=Mode.SUBTRACT)


solid = part.part
